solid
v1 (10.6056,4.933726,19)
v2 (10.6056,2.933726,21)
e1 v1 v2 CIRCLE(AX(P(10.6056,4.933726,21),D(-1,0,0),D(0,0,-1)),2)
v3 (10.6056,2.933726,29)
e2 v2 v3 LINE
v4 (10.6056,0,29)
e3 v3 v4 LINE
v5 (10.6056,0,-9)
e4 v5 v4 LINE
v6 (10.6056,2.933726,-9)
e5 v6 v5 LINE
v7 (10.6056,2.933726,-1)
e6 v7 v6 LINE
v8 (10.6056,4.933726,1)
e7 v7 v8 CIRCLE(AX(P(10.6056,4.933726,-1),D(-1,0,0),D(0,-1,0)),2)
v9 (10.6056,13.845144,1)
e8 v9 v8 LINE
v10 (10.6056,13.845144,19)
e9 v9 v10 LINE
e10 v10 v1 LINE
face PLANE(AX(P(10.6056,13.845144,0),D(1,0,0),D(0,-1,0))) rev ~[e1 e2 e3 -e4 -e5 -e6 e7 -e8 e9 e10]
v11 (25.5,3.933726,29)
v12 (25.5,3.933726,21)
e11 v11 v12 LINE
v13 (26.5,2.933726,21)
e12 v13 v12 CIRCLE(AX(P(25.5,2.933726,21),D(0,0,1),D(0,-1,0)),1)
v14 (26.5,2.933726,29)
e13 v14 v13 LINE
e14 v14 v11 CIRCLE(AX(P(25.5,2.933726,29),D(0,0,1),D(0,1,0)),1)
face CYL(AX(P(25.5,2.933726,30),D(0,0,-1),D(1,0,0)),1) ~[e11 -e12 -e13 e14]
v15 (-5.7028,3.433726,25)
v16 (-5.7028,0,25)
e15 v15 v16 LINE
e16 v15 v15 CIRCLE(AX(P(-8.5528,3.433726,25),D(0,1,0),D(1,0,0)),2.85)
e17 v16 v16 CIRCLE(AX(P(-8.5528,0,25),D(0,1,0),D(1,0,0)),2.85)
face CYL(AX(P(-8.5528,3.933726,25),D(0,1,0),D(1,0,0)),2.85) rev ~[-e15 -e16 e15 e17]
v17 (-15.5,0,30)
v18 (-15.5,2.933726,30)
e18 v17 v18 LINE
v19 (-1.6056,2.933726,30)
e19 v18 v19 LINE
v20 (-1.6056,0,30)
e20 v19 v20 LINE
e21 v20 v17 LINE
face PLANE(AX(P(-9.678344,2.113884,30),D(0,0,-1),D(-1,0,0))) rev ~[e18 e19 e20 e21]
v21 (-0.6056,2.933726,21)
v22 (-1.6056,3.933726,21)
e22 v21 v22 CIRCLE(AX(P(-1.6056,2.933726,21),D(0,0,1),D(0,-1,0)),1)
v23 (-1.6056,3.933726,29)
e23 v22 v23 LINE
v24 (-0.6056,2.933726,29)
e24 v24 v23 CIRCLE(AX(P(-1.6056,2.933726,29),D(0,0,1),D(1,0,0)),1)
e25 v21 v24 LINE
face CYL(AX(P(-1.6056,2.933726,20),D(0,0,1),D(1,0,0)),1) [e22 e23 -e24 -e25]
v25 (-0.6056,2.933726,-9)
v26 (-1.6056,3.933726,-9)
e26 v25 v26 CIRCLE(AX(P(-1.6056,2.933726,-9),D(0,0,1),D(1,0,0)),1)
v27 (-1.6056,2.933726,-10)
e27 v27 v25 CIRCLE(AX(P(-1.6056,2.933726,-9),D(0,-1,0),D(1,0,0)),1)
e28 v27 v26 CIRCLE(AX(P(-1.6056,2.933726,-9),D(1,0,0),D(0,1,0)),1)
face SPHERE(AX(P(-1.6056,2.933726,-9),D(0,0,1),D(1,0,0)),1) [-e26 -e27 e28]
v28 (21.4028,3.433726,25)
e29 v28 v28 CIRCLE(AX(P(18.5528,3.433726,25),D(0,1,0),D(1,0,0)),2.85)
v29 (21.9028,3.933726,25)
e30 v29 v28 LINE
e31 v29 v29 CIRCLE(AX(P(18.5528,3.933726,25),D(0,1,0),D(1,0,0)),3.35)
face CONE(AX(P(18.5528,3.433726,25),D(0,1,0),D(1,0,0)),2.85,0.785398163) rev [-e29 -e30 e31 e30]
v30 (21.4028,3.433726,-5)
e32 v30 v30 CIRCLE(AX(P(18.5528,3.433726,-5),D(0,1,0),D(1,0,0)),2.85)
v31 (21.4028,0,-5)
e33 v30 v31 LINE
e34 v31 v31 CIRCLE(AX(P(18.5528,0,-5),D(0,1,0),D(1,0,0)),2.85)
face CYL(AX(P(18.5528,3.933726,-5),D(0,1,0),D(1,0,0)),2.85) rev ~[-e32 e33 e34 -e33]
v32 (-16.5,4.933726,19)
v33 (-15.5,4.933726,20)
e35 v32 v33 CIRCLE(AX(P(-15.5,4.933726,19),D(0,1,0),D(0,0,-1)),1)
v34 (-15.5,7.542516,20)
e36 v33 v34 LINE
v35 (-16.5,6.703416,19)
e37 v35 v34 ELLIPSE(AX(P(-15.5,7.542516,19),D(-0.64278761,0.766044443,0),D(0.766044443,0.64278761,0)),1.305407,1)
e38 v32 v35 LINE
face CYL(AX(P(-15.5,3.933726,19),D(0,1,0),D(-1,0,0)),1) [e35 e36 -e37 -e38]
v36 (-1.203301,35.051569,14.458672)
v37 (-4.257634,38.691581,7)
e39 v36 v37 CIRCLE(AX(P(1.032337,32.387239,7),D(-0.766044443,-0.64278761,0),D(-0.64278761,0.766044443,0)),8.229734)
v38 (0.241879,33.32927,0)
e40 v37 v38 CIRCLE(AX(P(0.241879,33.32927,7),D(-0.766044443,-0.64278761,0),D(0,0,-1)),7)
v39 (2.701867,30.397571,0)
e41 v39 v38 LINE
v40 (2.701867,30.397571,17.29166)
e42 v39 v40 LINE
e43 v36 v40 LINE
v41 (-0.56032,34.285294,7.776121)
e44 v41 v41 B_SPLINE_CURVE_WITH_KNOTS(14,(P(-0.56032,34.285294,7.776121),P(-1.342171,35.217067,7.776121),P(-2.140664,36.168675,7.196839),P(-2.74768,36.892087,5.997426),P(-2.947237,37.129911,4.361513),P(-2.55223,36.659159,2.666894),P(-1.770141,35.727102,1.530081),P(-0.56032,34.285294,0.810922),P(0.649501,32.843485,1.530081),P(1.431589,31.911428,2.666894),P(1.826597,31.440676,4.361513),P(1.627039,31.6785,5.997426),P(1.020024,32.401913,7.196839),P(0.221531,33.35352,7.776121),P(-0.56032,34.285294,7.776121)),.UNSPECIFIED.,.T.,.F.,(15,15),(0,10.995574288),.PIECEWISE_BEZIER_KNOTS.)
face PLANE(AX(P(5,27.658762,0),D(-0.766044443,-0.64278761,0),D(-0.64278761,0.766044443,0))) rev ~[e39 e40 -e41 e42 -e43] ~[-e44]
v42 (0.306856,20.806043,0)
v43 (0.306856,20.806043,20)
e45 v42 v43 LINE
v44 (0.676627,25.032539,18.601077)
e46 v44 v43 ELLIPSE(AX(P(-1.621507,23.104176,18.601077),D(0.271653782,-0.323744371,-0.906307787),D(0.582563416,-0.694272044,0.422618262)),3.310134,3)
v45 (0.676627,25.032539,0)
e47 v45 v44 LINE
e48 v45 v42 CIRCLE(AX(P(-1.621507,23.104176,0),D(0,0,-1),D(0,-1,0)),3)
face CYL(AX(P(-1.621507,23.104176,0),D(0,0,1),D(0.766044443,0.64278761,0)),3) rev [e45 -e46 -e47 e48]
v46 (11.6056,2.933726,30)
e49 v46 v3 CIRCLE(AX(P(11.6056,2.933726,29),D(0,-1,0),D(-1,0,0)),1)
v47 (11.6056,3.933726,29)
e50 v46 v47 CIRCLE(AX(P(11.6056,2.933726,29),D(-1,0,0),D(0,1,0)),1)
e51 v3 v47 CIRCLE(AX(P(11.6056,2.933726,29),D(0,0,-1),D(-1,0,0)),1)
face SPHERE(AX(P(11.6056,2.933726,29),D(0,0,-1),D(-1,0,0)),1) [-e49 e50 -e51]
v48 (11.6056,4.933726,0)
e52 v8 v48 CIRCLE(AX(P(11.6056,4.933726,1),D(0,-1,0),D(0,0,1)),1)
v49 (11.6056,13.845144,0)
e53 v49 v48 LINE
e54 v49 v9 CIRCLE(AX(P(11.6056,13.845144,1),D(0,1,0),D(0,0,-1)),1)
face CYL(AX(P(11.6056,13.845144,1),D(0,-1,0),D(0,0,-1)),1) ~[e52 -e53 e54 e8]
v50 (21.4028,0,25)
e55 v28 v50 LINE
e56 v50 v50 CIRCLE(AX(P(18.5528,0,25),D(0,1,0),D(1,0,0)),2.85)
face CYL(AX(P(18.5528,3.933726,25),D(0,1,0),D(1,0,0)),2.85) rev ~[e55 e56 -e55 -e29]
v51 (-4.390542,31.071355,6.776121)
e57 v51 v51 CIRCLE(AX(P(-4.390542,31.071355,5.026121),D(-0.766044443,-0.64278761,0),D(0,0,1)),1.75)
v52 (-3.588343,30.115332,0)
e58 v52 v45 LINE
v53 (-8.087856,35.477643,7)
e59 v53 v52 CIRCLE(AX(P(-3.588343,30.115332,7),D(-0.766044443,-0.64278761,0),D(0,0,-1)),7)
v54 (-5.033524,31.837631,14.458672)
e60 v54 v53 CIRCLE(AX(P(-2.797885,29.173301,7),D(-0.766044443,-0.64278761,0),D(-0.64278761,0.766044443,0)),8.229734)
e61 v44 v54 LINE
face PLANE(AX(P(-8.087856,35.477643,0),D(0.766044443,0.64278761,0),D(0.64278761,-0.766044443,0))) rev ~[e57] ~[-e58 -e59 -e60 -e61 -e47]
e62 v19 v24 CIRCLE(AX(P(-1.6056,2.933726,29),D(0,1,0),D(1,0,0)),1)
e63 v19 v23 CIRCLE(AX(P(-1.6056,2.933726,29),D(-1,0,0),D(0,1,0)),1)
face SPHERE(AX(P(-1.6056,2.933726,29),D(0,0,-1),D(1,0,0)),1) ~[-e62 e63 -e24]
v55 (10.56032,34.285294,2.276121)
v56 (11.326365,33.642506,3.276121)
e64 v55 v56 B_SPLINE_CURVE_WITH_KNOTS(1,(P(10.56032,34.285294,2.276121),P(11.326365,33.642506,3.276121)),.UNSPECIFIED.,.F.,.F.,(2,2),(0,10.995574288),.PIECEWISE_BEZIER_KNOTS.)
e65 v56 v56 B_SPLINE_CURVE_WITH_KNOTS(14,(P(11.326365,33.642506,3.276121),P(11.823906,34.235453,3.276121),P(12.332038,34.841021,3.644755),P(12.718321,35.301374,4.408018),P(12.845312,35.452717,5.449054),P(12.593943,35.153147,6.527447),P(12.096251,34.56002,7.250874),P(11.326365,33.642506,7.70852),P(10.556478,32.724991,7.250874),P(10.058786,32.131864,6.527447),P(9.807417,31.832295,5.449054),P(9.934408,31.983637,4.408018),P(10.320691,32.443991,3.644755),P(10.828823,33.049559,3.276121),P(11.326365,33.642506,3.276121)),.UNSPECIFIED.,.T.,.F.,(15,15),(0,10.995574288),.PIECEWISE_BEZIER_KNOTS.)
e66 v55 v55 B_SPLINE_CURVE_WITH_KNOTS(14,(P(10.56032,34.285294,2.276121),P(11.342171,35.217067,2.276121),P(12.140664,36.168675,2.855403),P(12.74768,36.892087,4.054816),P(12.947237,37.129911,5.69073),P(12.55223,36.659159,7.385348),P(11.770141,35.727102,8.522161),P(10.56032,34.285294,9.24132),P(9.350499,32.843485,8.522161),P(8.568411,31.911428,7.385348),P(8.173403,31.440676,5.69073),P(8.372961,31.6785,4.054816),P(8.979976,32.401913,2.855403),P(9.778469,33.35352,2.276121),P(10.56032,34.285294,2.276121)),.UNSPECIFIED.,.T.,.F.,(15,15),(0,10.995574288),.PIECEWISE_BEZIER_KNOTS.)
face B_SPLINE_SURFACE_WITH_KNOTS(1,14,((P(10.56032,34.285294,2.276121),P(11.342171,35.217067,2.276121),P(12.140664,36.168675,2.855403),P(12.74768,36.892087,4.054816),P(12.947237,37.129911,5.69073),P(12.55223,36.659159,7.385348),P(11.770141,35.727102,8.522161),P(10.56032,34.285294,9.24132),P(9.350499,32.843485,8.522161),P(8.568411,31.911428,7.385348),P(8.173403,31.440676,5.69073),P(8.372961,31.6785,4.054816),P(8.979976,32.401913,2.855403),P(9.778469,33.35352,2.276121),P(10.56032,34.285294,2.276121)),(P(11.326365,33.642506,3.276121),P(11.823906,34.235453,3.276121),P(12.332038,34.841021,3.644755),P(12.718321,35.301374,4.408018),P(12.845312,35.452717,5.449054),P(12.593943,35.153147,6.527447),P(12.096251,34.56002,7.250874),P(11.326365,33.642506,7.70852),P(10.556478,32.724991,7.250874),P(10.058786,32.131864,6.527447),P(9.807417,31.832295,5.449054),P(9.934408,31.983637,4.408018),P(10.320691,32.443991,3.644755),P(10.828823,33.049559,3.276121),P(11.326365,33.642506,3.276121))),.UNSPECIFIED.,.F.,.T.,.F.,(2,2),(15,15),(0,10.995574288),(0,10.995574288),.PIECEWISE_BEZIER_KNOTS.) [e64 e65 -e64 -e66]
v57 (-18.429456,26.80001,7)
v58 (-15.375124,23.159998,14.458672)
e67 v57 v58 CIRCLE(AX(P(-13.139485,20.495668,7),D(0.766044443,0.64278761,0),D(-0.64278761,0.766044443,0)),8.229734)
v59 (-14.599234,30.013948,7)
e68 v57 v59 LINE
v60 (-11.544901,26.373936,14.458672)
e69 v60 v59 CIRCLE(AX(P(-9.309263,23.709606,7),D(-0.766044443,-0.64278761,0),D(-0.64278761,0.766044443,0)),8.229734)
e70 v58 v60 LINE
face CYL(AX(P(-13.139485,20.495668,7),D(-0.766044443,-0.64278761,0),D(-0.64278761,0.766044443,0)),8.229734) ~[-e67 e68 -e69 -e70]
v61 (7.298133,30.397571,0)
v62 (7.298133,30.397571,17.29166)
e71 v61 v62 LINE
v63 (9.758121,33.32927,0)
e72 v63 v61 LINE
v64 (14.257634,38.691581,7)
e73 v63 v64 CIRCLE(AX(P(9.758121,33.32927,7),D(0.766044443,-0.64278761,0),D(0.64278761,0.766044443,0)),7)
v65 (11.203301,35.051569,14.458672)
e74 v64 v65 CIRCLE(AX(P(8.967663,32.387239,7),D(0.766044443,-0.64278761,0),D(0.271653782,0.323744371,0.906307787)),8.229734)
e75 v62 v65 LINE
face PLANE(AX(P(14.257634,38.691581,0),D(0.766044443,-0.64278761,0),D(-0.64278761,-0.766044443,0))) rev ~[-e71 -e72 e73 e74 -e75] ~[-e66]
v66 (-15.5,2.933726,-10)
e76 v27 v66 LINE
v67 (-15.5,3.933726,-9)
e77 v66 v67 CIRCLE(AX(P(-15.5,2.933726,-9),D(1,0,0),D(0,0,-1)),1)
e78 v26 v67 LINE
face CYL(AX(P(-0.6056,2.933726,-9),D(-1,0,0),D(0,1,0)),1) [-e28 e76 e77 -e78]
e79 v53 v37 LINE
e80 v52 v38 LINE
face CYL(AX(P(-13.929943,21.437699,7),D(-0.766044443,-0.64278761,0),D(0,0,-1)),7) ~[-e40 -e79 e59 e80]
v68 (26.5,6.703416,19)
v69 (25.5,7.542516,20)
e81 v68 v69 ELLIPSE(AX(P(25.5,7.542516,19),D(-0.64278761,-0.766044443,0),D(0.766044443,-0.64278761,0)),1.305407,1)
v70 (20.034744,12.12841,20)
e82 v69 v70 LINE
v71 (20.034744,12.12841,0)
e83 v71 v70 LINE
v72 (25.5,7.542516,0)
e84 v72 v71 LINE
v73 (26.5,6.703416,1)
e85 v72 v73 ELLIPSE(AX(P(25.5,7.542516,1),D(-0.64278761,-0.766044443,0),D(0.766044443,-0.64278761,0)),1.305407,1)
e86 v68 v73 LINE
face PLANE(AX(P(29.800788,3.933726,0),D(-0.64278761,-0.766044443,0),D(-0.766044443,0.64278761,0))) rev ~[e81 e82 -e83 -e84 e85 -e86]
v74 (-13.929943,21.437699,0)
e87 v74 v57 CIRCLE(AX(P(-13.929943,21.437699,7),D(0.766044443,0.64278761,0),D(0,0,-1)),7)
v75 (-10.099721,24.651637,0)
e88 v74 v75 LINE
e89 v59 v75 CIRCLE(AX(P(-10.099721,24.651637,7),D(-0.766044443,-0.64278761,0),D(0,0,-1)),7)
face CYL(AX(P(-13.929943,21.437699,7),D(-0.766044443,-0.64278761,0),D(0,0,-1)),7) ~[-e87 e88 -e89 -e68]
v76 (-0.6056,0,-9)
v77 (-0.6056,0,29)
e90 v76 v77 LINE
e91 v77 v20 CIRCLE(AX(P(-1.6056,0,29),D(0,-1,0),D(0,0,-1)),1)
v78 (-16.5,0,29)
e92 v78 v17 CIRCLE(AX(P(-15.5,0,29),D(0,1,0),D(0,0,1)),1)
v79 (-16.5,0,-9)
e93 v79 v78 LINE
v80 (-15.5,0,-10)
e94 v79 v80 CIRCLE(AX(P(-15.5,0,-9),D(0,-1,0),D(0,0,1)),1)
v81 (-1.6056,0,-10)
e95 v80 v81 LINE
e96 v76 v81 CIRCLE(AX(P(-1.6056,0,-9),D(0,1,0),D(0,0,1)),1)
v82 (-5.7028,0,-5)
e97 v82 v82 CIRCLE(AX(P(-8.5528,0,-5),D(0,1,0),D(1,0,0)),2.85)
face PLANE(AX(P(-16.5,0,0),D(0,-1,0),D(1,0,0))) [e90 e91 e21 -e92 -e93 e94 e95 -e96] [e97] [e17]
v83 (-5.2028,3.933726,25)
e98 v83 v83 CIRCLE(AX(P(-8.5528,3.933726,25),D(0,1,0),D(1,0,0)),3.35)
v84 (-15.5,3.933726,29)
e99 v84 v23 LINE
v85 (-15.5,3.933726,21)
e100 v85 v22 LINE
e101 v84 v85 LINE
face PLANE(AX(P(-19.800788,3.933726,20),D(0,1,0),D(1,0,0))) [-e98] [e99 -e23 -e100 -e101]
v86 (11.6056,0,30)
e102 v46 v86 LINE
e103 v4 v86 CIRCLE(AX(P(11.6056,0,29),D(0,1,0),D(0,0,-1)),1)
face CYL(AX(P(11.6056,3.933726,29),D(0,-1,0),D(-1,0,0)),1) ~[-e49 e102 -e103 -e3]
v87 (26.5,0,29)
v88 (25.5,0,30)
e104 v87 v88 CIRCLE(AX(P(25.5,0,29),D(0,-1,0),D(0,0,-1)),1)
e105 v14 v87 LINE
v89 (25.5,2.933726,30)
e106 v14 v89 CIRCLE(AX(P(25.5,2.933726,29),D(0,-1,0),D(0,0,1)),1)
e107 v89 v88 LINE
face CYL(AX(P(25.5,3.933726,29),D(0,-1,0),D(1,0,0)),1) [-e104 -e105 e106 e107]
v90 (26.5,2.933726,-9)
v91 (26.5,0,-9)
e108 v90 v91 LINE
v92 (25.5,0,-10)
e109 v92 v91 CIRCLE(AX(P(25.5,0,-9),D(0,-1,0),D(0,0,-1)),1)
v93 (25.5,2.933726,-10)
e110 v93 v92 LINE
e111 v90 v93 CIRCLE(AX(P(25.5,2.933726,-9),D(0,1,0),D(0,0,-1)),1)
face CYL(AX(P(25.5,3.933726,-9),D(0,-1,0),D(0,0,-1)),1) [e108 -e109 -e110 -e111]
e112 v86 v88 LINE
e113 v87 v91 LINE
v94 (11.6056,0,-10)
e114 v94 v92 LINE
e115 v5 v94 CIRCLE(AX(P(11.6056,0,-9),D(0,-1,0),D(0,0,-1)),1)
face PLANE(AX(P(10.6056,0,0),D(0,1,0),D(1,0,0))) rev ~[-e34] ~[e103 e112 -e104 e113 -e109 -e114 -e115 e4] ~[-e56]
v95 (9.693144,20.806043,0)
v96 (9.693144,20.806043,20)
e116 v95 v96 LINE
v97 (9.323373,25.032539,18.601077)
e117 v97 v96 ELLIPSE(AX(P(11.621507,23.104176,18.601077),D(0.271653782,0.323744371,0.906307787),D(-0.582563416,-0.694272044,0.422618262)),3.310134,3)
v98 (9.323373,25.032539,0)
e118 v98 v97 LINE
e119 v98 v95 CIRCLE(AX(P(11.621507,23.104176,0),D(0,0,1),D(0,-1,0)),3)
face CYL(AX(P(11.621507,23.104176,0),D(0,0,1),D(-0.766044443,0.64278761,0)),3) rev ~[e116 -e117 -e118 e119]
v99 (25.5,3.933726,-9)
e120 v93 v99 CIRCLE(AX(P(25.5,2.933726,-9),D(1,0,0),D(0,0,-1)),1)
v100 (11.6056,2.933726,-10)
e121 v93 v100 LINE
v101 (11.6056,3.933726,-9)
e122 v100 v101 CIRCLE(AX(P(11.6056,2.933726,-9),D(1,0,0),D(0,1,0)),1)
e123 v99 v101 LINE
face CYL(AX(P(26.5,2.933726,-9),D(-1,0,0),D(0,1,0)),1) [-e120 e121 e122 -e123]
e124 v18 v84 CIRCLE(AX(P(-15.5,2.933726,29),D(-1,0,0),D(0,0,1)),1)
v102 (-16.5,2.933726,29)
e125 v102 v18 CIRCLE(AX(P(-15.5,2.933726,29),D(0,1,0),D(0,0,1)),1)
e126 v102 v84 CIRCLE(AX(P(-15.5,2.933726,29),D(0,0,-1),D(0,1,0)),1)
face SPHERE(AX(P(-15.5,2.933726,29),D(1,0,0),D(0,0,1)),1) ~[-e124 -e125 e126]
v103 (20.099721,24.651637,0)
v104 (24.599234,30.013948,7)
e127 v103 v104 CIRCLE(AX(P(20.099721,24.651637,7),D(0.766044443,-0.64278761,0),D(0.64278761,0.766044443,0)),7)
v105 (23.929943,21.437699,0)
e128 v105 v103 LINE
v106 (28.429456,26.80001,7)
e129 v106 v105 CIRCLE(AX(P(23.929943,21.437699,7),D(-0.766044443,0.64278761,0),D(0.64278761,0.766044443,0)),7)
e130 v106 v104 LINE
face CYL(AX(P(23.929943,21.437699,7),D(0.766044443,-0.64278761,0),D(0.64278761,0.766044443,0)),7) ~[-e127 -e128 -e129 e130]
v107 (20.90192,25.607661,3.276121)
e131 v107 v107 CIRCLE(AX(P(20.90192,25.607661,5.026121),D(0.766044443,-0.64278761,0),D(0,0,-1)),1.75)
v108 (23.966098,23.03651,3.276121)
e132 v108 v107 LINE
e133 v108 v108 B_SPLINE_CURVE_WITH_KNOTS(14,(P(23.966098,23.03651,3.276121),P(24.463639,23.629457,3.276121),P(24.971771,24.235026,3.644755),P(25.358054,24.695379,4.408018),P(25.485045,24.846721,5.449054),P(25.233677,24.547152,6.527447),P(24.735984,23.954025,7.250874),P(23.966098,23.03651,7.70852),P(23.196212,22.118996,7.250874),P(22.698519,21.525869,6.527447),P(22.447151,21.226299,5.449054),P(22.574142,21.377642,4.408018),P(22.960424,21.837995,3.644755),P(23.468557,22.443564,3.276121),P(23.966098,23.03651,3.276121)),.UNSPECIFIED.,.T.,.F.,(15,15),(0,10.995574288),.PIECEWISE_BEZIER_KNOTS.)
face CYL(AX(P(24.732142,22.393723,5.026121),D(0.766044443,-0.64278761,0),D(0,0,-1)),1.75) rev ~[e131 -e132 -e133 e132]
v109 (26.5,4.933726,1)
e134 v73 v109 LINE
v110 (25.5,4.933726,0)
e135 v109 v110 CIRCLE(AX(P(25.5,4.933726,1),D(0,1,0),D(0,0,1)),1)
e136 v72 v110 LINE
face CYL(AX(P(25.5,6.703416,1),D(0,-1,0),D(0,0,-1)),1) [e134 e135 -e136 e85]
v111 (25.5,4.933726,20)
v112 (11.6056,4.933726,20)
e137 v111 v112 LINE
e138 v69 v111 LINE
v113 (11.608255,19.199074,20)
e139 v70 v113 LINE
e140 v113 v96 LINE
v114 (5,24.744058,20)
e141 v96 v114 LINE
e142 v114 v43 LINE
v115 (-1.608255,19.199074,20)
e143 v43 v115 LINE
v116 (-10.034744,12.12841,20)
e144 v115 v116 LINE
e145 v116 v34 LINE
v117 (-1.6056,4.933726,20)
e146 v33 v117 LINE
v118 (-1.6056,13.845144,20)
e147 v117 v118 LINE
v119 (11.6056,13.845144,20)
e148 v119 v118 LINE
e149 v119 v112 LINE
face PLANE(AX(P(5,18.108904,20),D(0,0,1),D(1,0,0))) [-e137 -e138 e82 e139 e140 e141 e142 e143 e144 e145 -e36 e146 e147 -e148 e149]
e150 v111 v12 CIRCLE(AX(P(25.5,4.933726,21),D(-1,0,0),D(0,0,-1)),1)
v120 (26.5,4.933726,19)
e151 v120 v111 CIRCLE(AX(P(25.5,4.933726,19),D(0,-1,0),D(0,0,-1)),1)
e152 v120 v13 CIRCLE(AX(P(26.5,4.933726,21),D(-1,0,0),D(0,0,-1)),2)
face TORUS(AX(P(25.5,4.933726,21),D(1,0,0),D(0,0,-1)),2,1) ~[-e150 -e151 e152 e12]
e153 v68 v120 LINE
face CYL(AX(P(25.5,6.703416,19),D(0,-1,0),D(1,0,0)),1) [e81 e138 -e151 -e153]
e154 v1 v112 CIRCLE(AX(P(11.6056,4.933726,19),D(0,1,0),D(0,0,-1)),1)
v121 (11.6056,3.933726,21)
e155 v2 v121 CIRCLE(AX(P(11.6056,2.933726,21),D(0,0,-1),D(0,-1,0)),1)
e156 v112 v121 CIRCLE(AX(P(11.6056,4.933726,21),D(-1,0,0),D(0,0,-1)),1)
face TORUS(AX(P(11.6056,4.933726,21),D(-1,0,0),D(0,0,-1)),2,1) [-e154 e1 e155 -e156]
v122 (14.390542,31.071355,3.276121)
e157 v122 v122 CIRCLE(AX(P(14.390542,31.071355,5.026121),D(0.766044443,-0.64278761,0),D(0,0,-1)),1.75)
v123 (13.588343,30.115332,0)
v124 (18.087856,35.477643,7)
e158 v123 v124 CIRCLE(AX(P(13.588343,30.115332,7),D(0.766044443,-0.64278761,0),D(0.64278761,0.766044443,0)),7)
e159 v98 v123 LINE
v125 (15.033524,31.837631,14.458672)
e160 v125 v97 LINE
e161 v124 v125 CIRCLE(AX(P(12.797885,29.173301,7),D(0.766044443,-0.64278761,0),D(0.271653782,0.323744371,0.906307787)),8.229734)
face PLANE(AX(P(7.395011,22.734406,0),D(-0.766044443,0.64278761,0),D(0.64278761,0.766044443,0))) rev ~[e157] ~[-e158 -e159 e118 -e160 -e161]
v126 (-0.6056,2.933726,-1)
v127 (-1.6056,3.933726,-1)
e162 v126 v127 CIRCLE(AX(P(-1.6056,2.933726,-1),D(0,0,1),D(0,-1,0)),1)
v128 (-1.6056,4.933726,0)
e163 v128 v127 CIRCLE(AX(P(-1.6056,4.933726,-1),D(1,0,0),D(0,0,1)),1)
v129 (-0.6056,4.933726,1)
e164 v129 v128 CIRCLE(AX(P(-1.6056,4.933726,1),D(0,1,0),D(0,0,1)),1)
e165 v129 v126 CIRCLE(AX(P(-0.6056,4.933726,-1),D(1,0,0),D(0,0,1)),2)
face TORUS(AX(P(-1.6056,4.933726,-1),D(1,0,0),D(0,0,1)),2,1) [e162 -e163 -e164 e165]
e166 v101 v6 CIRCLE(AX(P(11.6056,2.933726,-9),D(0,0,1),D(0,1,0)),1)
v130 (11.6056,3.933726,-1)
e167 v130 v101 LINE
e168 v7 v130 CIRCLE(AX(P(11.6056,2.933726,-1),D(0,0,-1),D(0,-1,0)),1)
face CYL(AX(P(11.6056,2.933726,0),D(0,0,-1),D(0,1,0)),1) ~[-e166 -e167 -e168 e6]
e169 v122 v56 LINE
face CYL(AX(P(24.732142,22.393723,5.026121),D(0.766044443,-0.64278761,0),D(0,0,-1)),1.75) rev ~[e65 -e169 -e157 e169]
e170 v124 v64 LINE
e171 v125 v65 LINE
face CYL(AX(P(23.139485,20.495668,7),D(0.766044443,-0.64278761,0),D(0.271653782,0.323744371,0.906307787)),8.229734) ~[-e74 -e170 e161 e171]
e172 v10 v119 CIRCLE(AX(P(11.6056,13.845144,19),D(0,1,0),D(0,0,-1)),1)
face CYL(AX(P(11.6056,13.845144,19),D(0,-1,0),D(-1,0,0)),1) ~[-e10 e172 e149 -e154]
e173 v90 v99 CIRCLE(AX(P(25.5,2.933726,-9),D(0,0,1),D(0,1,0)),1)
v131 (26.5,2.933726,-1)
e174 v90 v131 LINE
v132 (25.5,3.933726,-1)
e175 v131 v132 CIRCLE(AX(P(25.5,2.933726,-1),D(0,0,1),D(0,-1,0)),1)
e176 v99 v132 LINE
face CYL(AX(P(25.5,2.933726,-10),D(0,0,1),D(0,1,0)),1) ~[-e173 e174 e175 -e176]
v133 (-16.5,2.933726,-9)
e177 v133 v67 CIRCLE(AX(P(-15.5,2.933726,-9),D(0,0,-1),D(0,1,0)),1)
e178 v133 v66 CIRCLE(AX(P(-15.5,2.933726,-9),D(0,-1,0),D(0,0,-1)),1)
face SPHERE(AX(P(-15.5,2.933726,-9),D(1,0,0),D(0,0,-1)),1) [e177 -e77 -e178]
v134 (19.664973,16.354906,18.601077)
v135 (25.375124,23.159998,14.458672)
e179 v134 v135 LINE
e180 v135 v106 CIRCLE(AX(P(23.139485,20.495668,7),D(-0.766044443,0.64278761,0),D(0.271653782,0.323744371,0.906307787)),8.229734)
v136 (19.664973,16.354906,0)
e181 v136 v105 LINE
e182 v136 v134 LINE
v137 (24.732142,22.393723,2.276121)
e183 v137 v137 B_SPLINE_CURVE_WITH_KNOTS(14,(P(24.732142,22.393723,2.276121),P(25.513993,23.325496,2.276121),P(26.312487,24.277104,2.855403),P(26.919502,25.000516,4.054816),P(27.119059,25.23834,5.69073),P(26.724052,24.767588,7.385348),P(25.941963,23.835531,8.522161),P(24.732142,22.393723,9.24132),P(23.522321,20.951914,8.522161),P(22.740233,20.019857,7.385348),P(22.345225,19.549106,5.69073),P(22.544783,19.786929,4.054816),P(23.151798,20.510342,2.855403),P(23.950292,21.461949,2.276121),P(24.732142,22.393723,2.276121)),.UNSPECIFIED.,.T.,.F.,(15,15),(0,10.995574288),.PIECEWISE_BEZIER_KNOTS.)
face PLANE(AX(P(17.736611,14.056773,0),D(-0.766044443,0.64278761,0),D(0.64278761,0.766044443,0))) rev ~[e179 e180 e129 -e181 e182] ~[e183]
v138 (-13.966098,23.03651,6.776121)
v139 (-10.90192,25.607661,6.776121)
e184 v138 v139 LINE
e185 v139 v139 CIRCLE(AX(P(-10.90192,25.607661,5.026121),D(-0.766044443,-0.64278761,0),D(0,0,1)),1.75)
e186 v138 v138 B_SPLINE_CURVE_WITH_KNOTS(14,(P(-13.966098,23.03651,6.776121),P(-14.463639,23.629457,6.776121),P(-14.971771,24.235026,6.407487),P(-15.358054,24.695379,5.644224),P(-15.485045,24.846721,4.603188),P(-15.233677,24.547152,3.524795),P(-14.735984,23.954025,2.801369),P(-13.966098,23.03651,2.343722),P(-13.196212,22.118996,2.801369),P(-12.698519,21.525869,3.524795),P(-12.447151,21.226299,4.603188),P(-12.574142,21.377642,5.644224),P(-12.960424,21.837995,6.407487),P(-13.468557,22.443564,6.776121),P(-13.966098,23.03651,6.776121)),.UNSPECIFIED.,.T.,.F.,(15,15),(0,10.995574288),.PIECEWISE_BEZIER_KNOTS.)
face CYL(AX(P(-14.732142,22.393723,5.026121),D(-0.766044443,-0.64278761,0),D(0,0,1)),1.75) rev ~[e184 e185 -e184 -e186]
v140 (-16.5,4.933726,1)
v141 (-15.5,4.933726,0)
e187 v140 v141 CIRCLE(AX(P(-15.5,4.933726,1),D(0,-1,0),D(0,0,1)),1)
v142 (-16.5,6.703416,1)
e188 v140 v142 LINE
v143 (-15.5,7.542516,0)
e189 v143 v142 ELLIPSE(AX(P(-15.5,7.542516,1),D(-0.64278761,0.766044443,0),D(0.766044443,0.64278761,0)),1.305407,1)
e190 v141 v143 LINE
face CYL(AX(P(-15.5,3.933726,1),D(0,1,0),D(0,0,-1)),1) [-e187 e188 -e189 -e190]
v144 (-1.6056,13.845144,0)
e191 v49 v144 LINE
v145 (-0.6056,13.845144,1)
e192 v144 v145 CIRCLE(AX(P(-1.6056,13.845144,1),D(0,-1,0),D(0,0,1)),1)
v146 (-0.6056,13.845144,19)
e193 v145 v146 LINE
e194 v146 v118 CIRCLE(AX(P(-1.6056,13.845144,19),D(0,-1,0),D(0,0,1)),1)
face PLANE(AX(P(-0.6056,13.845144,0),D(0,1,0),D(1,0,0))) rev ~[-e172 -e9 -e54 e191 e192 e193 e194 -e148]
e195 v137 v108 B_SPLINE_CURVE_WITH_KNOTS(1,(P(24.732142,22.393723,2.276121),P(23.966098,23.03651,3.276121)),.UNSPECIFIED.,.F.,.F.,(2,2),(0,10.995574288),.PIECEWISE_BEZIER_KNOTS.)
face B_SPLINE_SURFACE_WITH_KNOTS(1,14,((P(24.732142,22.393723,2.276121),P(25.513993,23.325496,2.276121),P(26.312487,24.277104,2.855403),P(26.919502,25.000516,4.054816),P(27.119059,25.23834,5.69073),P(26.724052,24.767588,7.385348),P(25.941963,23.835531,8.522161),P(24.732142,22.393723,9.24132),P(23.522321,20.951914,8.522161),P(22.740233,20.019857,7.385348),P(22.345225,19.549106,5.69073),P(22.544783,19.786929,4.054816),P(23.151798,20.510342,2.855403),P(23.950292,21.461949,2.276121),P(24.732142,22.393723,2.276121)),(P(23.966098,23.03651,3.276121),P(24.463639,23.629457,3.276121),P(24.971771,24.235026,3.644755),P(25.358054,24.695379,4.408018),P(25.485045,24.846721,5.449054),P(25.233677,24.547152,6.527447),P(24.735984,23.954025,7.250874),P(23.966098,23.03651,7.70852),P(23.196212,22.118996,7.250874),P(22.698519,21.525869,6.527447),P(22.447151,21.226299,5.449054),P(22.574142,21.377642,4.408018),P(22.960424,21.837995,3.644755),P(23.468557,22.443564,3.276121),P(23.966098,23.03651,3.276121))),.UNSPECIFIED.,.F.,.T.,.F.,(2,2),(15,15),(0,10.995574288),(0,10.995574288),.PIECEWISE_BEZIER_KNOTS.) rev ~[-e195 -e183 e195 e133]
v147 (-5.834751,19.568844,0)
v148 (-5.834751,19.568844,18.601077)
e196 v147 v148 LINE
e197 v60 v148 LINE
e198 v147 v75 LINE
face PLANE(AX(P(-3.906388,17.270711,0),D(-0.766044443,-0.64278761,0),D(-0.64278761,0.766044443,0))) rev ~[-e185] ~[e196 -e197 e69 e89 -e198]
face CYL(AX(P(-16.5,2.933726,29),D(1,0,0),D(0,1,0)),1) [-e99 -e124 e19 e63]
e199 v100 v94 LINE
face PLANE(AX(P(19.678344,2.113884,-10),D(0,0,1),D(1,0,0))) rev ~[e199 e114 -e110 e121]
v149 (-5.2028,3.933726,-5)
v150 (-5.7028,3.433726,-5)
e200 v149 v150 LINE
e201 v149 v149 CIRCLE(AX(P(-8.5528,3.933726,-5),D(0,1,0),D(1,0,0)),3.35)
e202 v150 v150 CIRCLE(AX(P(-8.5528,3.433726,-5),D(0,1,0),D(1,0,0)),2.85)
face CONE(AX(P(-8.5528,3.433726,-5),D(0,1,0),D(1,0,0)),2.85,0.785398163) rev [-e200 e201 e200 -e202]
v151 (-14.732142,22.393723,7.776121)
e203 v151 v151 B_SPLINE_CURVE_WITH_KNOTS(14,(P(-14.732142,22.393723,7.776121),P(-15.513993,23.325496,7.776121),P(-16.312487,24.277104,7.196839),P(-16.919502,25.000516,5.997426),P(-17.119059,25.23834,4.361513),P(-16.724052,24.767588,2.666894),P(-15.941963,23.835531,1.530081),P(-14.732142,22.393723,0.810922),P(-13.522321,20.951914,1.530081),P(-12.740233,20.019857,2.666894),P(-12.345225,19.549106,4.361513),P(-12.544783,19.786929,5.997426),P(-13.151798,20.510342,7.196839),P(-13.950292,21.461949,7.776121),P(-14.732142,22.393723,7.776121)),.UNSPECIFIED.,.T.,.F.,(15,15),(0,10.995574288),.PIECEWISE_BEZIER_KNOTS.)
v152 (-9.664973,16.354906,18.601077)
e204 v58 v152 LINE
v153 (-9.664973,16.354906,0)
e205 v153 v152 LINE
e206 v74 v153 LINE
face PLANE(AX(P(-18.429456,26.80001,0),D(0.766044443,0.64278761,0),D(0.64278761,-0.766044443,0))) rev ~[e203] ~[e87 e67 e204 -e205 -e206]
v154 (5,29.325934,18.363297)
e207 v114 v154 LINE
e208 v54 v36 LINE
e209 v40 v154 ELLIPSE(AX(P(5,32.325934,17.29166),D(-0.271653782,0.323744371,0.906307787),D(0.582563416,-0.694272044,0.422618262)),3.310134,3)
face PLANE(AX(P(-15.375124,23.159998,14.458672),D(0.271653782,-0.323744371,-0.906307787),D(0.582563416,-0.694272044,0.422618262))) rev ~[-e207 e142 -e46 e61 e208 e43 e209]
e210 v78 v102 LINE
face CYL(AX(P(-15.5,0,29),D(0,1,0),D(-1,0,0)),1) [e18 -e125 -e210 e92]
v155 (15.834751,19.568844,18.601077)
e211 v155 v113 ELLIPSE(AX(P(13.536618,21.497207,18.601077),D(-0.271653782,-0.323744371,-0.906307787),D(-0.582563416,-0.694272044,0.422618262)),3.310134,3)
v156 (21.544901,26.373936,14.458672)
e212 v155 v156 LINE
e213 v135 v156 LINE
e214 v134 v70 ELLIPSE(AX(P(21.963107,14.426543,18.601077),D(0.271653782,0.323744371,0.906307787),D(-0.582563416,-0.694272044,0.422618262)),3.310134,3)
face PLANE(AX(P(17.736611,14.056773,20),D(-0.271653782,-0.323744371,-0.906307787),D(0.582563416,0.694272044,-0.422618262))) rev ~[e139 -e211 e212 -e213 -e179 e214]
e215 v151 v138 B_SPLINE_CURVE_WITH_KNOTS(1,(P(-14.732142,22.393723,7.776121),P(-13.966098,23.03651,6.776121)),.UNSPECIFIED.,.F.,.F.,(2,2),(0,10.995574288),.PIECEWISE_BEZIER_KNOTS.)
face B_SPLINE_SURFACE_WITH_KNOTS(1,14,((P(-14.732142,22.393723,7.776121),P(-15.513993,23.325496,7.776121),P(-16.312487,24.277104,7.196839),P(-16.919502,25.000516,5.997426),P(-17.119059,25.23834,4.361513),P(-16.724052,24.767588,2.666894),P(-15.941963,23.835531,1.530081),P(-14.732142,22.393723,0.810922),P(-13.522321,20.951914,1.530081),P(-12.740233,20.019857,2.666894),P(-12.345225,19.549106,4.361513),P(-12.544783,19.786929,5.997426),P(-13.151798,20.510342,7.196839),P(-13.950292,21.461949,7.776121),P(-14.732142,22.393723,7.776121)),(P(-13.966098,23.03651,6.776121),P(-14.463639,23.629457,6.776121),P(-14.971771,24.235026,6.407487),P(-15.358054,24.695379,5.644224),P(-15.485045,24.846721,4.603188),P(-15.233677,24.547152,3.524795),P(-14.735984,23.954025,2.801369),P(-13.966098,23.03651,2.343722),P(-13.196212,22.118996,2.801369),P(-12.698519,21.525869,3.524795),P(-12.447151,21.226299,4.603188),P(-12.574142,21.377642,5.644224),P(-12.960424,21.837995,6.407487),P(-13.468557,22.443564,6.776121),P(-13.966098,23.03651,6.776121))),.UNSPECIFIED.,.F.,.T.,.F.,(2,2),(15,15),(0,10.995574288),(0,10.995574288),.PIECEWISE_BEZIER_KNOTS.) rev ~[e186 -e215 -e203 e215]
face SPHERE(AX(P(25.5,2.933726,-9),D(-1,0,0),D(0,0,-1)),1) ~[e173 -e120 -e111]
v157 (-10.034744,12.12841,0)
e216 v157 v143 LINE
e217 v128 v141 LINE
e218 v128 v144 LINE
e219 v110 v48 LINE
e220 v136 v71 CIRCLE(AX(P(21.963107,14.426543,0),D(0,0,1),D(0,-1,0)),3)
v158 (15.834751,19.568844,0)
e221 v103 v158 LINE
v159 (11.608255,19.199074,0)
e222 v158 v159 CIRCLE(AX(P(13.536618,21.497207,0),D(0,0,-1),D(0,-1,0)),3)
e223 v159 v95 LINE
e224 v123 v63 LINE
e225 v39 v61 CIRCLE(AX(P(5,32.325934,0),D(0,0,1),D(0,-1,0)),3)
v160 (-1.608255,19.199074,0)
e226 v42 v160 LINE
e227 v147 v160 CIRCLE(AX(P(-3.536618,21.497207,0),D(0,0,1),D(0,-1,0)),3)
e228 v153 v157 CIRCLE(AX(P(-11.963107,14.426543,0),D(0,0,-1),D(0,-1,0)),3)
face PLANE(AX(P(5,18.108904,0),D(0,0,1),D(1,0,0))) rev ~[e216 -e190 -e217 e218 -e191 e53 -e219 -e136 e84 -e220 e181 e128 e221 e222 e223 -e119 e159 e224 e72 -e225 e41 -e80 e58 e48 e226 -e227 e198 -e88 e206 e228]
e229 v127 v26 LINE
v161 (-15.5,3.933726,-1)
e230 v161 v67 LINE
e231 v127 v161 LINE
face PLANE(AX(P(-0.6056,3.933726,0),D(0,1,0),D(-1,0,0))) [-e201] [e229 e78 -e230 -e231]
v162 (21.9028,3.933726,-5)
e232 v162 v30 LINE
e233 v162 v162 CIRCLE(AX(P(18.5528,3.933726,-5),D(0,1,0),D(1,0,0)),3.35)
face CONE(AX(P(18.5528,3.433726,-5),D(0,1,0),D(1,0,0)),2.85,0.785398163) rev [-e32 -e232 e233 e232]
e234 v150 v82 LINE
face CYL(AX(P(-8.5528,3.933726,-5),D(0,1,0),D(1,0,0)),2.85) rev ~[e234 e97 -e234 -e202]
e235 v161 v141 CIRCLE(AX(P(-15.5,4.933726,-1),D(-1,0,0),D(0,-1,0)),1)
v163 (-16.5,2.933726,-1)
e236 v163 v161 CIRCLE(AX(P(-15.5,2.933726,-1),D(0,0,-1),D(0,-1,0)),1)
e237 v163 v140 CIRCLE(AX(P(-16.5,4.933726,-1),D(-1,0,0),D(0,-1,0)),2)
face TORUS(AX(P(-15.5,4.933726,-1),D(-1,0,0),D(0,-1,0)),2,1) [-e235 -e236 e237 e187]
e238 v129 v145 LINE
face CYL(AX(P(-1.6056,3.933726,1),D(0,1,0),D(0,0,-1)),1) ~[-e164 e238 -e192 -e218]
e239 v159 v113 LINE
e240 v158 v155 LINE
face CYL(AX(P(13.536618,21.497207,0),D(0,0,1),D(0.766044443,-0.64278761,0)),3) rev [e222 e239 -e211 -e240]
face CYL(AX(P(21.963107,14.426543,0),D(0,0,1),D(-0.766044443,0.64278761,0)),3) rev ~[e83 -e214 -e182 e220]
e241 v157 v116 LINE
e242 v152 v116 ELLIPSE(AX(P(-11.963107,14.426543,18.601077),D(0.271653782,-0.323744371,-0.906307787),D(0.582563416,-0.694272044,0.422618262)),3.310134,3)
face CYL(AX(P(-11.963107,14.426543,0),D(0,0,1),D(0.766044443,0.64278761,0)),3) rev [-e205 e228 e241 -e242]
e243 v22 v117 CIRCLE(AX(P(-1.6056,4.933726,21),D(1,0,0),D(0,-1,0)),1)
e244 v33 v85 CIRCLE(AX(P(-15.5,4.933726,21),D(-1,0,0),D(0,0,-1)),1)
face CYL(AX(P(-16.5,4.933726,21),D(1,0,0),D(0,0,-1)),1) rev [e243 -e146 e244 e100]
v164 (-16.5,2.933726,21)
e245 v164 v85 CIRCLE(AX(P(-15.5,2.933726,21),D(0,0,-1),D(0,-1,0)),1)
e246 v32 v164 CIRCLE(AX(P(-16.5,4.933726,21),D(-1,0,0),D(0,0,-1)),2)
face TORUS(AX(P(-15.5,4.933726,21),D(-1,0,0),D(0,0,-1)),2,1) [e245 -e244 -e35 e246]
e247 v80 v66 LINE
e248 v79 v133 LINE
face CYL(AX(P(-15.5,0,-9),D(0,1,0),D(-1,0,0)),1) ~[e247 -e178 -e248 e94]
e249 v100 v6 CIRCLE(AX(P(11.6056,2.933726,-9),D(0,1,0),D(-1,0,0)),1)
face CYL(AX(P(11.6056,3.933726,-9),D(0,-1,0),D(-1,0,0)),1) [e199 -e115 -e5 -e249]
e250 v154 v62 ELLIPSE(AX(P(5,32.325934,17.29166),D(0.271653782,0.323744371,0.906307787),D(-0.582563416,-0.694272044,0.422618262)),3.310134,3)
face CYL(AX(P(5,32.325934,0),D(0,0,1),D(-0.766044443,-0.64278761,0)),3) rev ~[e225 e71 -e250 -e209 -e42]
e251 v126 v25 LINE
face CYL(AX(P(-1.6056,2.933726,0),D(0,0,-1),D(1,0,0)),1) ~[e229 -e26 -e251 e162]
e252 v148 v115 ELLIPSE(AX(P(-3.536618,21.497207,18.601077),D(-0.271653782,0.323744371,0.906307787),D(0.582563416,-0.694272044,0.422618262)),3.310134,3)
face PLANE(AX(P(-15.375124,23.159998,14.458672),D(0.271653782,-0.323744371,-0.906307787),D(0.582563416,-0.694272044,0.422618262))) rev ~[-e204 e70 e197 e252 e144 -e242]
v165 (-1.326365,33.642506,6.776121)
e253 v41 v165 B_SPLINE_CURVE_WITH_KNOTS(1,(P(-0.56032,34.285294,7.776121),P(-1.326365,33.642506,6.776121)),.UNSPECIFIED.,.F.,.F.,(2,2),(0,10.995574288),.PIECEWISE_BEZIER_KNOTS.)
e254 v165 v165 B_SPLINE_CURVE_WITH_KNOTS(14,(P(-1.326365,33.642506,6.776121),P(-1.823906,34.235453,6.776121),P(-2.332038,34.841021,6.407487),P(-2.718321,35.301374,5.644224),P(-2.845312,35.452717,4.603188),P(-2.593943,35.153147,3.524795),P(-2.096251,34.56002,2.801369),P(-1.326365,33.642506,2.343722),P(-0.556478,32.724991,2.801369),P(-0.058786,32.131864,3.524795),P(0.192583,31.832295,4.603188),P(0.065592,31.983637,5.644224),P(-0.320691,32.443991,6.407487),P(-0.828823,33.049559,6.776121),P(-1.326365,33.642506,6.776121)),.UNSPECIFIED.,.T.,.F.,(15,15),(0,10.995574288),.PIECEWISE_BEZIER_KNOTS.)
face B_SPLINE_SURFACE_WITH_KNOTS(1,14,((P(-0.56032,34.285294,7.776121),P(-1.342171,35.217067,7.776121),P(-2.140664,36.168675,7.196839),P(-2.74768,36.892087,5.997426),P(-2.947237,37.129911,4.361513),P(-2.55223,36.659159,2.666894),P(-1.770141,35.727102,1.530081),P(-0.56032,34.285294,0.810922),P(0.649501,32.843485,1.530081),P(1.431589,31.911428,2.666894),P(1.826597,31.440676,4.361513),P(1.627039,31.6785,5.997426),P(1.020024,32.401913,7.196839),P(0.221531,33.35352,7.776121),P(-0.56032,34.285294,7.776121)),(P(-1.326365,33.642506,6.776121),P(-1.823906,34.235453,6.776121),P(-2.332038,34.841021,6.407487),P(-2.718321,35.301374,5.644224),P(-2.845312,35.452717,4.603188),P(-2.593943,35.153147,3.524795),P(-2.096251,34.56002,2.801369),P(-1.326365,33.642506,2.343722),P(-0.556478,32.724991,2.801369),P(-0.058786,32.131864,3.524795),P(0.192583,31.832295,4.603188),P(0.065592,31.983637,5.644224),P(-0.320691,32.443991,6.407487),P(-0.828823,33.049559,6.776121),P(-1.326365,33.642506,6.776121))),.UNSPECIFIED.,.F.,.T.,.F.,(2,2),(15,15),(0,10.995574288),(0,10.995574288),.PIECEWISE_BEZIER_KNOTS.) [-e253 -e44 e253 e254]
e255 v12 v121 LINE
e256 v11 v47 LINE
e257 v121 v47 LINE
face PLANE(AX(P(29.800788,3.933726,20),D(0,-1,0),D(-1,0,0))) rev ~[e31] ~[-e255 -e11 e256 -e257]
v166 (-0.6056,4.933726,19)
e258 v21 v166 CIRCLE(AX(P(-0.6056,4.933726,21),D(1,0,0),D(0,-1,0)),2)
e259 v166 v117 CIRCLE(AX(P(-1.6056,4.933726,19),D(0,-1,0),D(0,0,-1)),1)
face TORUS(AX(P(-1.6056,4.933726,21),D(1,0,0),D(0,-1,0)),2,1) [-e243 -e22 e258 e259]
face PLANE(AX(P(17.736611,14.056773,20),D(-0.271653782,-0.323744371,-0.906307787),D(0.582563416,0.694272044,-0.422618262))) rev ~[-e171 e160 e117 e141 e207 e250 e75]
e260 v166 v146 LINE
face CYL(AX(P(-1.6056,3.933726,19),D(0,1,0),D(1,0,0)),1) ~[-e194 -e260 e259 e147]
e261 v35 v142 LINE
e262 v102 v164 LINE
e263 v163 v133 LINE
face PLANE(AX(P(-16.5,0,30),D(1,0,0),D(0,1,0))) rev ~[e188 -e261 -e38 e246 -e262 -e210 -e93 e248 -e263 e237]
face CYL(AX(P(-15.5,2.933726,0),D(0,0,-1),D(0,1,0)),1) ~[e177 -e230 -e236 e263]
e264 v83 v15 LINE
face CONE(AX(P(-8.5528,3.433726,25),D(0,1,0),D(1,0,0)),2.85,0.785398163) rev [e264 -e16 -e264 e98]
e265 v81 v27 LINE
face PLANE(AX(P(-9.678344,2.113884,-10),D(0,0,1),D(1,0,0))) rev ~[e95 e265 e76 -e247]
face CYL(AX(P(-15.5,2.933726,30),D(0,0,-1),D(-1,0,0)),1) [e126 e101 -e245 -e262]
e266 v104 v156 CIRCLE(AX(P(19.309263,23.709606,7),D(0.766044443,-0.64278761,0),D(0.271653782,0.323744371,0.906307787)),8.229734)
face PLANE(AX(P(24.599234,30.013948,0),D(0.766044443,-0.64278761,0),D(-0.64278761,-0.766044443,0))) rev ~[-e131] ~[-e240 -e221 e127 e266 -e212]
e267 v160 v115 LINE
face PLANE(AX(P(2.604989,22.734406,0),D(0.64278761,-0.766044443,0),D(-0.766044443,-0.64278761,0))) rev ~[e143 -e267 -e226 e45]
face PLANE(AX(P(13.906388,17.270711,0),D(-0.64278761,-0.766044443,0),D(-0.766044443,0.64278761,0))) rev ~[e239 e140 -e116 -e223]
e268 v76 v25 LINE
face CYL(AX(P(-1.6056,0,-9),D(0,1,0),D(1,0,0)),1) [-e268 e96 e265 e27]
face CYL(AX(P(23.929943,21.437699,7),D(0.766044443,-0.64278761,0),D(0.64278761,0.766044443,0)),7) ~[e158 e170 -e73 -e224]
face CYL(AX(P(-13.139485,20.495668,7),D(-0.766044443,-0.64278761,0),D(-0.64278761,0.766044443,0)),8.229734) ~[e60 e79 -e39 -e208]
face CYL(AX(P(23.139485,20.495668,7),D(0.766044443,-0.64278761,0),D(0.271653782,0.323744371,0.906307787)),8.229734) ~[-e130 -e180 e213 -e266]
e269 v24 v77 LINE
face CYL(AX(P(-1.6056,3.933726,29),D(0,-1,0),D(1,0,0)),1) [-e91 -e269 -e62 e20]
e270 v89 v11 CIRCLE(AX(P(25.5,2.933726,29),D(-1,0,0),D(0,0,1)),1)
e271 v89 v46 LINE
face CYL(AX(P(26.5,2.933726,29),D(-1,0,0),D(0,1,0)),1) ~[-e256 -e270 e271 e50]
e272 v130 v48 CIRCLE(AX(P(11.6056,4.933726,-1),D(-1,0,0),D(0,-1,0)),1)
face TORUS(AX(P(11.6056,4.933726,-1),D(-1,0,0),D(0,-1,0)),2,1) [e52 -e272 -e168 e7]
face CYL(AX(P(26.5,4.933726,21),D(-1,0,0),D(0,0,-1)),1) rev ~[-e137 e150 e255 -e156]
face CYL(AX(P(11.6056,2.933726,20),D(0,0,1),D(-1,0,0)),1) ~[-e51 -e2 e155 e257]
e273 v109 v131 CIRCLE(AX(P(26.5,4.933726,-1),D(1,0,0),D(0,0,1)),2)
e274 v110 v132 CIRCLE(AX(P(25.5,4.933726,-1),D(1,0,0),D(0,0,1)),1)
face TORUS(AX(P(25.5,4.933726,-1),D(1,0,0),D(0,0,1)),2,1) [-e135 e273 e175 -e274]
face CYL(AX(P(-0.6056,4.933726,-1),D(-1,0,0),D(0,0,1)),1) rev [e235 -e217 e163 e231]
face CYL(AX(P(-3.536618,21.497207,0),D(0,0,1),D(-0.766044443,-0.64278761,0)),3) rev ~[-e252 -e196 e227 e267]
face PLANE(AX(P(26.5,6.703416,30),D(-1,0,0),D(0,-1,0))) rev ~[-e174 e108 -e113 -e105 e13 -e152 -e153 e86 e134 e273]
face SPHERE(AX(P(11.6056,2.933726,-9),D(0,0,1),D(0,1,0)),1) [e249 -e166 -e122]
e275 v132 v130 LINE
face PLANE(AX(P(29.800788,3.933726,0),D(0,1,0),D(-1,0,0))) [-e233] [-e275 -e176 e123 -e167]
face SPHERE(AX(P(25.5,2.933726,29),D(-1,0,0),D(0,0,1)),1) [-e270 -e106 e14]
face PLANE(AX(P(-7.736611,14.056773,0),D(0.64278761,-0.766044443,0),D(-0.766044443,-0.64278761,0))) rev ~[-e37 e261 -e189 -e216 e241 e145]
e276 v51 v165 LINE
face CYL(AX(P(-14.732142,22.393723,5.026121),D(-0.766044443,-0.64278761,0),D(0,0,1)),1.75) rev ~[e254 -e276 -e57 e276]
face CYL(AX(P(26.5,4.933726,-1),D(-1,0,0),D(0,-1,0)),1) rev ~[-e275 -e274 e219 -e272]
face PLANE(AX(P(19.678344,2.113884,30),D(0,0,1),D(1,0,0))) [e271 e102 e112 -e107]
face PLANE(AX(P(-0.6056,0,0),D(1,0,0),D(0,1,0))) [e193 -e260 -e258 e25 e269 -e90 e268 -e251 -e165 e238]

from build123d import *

# Parameters (mm, degrees)
BOSS_EXTRUDE1_DEPTH = 20
SKETCH5_R           = 1.75
CUT_EXTRUDE3_DEPTH  = 45.590264942
SKETCH6_R           = 1.75
CUT_EXTRUDE4_DEPTH  = 45.590264942
CUT_EXTRUDE5_DEPTH  = 45.590264942
CUT_EXTRUDE6_DEPTH  = 45.590264942
BOSS_EXTRUDE3_DEPTH = 10
SKETCH10_R          = 2.85
CUT_EXTRUDE7_DEPTH  = 4.933726003
BOSS_EXTRUDE4_DEPTH = 10
SKETCH12_R          = 2.85
CUT_EXTRUDE8_DEPTH  = 4.933726003
CUT_EXTRUDE9_DEPTH  = 41
CHAMFER1_SIZE       = 1
CHAMFER2_SIZE       = 0.5
FILLET1_R           = 1
FILLET2_R           = 3


with BuildPart() as part:
    # Sketch1 → Boss-Extrude1 (new body)
    with BuildSketch(Plane.XY):
        Polygon((-16.499999997, 0), (-0.605600394, 0), (-0.605600394, 13.845143912), (10.605600394, 13.845143912), (10.605600394, 0), (26.499999997, 0), (29.800788035, 3.933726003), (17.736610648, 14.0567728), (28.429456198, 26.800009899), (24.599233982, 30.013947947), (13.906388432, 17.270710848), (7.395010666, 22.73440553), (18.087856216, 35.47764263), (14.257634, 38.691580678), (5, 27.658762099), (-4.257634, 38.691580678), (-8.087856216, 35.47764263), (2.604989334, 22.73440553), (-3.906388432, 17.270710848), (-14.599233982, 30.013947947), (-18.429456198, 26.800009899), (-7.736610648, 14.0567728), (-19.800788035, 3.933726003), align=None)
    extrude(amount=BOSS_EXTRUDE1_DEPTH)

    # Sketch5 → Cut-Extrude3 (cut, through all)
    with BuildSketch(Plane(origin=(2.381579924, 1.998382835, 0), x_dir=(0, 0, 1), z_dir=(-0.766044443, -0.64278761, 0))):
        with Locations((5.02612125, 26.624225366)):
            Circle(SKETCH5_R)
    extrude(amount=-CUT_EXTRUDE3_DEPTH, mode=Mode.SUBTRACT)

    # Sketch6 → Cut-Extrude4 (cut, through all)
    with BuildSketch(Plane(origin=(3.486660965, -2.92565593, 0), x_dir=(0, 0, -1), z_dir=(0.766044443, -0.64278761, 0))):
        with Locations((-5.02612125, 33.052101463)):
            Circle(SKETCH6_R)
    extrude(amount=-CUT_EXTRUDE4_DEPTH, mode=Mode.SUBTRACT)

    # Sketch7 → Cut-Extrude5 (cut, through all)
    with BuildSketch(Plane(origin=(2.381579924, 1.998382835, 0), x_dir=(0, 0, 1), z_dir=(-0.766044443, -0.64278761, 0))):
        with BuildLine():
            ThreePointArc((0, 25.376224756), (2.050252532, 30.325972224), (7, 32.376224756))
            Line((7, 32.376224756), (0, 32.376224756))
            Line((0, 32.376224756), (0, 25.376224756))
        make_face()
        with BuildLine():
            ThreePointArc((7, 32.376224756), (11.421832756, 31.087378042), (14.458671842, 27.62452674))
            Line((14.458671842, 27.62452674), (20, 15.741110157))
            Line((20, 15.741110157), (20, 32.376224756))
            Line((20, 32.376224756), (7, 32.376224756))
        make_face()
    extrude(amount=-CUT_EXTRUDE5_DEPTH, mode=Mode.SUBTRACT)

    # Sketch8 → Cut-Extrude6 (cut, through all)
    with BuildSketch(Plane(origin=(3.486660965, -2.92565593, 0), x_dir=(0, 0, -1), z_dir=(0.766044443, -0.64278761, 0))):
        with BuildLine():
            Line((-20, 22.168986254), (-14.458671842, 34.052402837))
            ThreePointArc((-14.458671842, 34.052402837), (-11.421832756, 37.515254138), (-7, 38.804100853))
            Line((-7, 38.804100853), (-20, 38.804100853))
            Line((-20, 38.804100853), (-20, 22.168986254))
        make_face()
        with BuildLine():
            Line((0, 38.804100853), (-7, 38.804100853))
            ThreePointArc((-7, 38.804100853), (-2.050252532, 36.753848321), (0, 31.804100853))
            Line((0, 31.804100853), (0, 38.804100853))
        make_face()
    extrude(amount=-CUT_EXTRUDE6_DEPTH, mode=Mode.SUBTRACT)

    # Sketch9 → Boss-Extrude3 (add)
    with BuildSketch(Plane.XY.offset(20)):
        Polygon((-0.605600394, 0), (-16.499999997, 0), (-19.800788035, 3.933726003), (-0.605600394, 3.933726003), align=None)
        Polygon((10.605600394, 3.933726003), (10.605600394, 0), (26.499999997, 0), (29.800788035, 3.933726003), align=None)
    extrude(amount=BOSS_EXTRUDE3_DEPTH)

    # Sketch10 → Cut-Extrude7 (cut, through all)
    with BuildSketch(Plane(origin=(0, 3.933726003, 0), x_dir=(1, 0, 0), z_dir=(0, 1, 0))):
        with Locations((-8.552800195, -25)):
            Circle(SKETCH10_R)
        with Locations((18.552800195, -25)):
            Circle(SKETCH10_R)
    extrude(amount=-CUT_EXTRUDE7_DEPTH, mode=Mode.SUBTRACT)

    # Sketch11 → Boss-Extrude4 (add)
    with BuildSketch(Plane(origin=(0, 0, 0), x_dir=(-1, 0, 0), z_dir=(0, 0, -1))):
        Polygon((19.800788035, 3.933726003), (16.499999997, 0), (0.605600394, 0), (0.605600394, 3.933726003), align=None)
        Polygon((-10.605600394, 3.933726003), (-10.605600394, 0), (-26.499999997, 0), (-29.800788035, 3.933726003), align=None)
    extrude(amount=BOSS_EXTRUDE4_DEPTH)

    # Sketch12 → Cut-Extrude8 (cut, through all)
    with BuildSketch(Plane(origin=(0, 3.933726003, 0), x_dir=(1, 0, 0), z_dir=(0, 1, 0))):
        with Locations((-8.552800195, 5)):
            Circle(SKETCH12_R)
        with Locations((18.552800195, 5)):
            Circle(SKETCH12_R)
    extrude(amount=-CUT_EXTRUDE8_DEPTH, mode=Mode.SUBTRACT)

    # Sketch13 → Cut-Extrude9 (cut, through all)
    with BuildSketch(Plane.XY.offset(30)):
        Polygon((-16.499999997, 0), (-16.499999997, 3.933726003), (-16.499999997, 6.703416029), (-19.800788035, 3.933726003), align=None)
        Polygon((26.499999997, 0), (26.499999997, 3.933726003), (26.499999997, 6.703416029), (29.800788035, 3.933726003), align=None)
    extrude(amount=-CUT_EXTRUDE9_DEPTH, mode=Mode.SUBTRACT)

    # Chamfer1
    chamfer1_edges = [part.edges().sort_by_distance(p)[0] for p in [
        (-0.560320061, 34.285293508, 3.27612125),
        (-14.732142259, 22.393722729, 3.27612125),
        (10.560320061, 34.285293508, 6.77612125),
        (24.732142259, 22.393722729, 6.77612125),
    ]]
    chamfer(chamfer1_edges, length=CHAMFER1_SIZE)

    # Chamfer2
    chamfer2_edges = [part.edges().sort_by_distance(p)[0] for p in [
        (-11.402800195, 3.933726003, 25),
        (15.702800195, 3.933726003, 25),
        (15.702800195, 3.933726003, -5),
        (-11.402800195, 3.933726003, -5),
    ]]
    chamfer(chamfer2_edges, length=CHAMFER2_SIZE)

    # Fillet1
    fillet1_edges = [part.edges().sort_by_distance(p)[0] for p in [
        (-0.605600394, 8.889434958, 20),
        (10.605600394, 8.889434958, 20),
        (-8.552800195, 3.933726003, 20),
        (-0.605600394, 3.933726003, 25),
        (-0.605600394, 1.966863002, 30),
        (-8.552800195, 3.933726003, 30),
        (10.605600394, 3.933726003, 25),
        (10.605600394, 1.966863002, 30),
        (10.605600394, 8.889434958, 0),
        (-0.605600394, 8.889434958, 0),
        (-0.605600394, 3.933726003, -5),
        (-0.605600394, 1.966863002, -10),
        (18.552800195, 3.933726003, 0),
        (10.605600394, 3.933726003, -5),
        (18.552800195, 3.933726003, -10),
        (10.605600394, 1.966863002, -10),
        (26.499999997, 1.966863002, -10),
        (-8.552800195, 3.933726003, -10),
        (-8.552800195, 3.933726003, 0),
        (18.552800195, 3.933726003, 30),
        (18.552800195, 3.933726003, 20),
        (26.499999997, 1.966863002, 30),
        (26.499999997, 5.318571016, 20),
        (26.499999997, 5.318571016, 0),
        (26.499999997, 3.933726003, -5),
        (26.499999997, 3.933726003, 25),
        (-16.499999997, 1.966863002, 30),
        (-16.499999997, 5.318571016, 20),
        (-16.499999997, 3.933726003, 25),
        (-16.499999997, 1.966863002, -10),
        (-16.499999997, 3.933726003, -5),
        (-16.499999997, 5.318571016, 0),
    ]]
    fillet(fillet1_edges, radius=FILLET1_R)

    # Fillet2
    fillet2_edges = [part.edges().sort_by_distance(p)[0] for p in [
        (5, 27.658762099, 9.479415808),
        (-7.736610648, 14.0567728, 10),
        (-3.906388432, 17.270710848, 10),
        (2.604989334, 22.73440553, 10),
        (7.395010666, 22.73440553, 10),
        (13.906388432, 17.270710848, 10),
        (17.736610648, 14.0567728, 10),
    ]]
    fillet(fillet2_edges, radius=FILLET2_R)


solid = part.part
